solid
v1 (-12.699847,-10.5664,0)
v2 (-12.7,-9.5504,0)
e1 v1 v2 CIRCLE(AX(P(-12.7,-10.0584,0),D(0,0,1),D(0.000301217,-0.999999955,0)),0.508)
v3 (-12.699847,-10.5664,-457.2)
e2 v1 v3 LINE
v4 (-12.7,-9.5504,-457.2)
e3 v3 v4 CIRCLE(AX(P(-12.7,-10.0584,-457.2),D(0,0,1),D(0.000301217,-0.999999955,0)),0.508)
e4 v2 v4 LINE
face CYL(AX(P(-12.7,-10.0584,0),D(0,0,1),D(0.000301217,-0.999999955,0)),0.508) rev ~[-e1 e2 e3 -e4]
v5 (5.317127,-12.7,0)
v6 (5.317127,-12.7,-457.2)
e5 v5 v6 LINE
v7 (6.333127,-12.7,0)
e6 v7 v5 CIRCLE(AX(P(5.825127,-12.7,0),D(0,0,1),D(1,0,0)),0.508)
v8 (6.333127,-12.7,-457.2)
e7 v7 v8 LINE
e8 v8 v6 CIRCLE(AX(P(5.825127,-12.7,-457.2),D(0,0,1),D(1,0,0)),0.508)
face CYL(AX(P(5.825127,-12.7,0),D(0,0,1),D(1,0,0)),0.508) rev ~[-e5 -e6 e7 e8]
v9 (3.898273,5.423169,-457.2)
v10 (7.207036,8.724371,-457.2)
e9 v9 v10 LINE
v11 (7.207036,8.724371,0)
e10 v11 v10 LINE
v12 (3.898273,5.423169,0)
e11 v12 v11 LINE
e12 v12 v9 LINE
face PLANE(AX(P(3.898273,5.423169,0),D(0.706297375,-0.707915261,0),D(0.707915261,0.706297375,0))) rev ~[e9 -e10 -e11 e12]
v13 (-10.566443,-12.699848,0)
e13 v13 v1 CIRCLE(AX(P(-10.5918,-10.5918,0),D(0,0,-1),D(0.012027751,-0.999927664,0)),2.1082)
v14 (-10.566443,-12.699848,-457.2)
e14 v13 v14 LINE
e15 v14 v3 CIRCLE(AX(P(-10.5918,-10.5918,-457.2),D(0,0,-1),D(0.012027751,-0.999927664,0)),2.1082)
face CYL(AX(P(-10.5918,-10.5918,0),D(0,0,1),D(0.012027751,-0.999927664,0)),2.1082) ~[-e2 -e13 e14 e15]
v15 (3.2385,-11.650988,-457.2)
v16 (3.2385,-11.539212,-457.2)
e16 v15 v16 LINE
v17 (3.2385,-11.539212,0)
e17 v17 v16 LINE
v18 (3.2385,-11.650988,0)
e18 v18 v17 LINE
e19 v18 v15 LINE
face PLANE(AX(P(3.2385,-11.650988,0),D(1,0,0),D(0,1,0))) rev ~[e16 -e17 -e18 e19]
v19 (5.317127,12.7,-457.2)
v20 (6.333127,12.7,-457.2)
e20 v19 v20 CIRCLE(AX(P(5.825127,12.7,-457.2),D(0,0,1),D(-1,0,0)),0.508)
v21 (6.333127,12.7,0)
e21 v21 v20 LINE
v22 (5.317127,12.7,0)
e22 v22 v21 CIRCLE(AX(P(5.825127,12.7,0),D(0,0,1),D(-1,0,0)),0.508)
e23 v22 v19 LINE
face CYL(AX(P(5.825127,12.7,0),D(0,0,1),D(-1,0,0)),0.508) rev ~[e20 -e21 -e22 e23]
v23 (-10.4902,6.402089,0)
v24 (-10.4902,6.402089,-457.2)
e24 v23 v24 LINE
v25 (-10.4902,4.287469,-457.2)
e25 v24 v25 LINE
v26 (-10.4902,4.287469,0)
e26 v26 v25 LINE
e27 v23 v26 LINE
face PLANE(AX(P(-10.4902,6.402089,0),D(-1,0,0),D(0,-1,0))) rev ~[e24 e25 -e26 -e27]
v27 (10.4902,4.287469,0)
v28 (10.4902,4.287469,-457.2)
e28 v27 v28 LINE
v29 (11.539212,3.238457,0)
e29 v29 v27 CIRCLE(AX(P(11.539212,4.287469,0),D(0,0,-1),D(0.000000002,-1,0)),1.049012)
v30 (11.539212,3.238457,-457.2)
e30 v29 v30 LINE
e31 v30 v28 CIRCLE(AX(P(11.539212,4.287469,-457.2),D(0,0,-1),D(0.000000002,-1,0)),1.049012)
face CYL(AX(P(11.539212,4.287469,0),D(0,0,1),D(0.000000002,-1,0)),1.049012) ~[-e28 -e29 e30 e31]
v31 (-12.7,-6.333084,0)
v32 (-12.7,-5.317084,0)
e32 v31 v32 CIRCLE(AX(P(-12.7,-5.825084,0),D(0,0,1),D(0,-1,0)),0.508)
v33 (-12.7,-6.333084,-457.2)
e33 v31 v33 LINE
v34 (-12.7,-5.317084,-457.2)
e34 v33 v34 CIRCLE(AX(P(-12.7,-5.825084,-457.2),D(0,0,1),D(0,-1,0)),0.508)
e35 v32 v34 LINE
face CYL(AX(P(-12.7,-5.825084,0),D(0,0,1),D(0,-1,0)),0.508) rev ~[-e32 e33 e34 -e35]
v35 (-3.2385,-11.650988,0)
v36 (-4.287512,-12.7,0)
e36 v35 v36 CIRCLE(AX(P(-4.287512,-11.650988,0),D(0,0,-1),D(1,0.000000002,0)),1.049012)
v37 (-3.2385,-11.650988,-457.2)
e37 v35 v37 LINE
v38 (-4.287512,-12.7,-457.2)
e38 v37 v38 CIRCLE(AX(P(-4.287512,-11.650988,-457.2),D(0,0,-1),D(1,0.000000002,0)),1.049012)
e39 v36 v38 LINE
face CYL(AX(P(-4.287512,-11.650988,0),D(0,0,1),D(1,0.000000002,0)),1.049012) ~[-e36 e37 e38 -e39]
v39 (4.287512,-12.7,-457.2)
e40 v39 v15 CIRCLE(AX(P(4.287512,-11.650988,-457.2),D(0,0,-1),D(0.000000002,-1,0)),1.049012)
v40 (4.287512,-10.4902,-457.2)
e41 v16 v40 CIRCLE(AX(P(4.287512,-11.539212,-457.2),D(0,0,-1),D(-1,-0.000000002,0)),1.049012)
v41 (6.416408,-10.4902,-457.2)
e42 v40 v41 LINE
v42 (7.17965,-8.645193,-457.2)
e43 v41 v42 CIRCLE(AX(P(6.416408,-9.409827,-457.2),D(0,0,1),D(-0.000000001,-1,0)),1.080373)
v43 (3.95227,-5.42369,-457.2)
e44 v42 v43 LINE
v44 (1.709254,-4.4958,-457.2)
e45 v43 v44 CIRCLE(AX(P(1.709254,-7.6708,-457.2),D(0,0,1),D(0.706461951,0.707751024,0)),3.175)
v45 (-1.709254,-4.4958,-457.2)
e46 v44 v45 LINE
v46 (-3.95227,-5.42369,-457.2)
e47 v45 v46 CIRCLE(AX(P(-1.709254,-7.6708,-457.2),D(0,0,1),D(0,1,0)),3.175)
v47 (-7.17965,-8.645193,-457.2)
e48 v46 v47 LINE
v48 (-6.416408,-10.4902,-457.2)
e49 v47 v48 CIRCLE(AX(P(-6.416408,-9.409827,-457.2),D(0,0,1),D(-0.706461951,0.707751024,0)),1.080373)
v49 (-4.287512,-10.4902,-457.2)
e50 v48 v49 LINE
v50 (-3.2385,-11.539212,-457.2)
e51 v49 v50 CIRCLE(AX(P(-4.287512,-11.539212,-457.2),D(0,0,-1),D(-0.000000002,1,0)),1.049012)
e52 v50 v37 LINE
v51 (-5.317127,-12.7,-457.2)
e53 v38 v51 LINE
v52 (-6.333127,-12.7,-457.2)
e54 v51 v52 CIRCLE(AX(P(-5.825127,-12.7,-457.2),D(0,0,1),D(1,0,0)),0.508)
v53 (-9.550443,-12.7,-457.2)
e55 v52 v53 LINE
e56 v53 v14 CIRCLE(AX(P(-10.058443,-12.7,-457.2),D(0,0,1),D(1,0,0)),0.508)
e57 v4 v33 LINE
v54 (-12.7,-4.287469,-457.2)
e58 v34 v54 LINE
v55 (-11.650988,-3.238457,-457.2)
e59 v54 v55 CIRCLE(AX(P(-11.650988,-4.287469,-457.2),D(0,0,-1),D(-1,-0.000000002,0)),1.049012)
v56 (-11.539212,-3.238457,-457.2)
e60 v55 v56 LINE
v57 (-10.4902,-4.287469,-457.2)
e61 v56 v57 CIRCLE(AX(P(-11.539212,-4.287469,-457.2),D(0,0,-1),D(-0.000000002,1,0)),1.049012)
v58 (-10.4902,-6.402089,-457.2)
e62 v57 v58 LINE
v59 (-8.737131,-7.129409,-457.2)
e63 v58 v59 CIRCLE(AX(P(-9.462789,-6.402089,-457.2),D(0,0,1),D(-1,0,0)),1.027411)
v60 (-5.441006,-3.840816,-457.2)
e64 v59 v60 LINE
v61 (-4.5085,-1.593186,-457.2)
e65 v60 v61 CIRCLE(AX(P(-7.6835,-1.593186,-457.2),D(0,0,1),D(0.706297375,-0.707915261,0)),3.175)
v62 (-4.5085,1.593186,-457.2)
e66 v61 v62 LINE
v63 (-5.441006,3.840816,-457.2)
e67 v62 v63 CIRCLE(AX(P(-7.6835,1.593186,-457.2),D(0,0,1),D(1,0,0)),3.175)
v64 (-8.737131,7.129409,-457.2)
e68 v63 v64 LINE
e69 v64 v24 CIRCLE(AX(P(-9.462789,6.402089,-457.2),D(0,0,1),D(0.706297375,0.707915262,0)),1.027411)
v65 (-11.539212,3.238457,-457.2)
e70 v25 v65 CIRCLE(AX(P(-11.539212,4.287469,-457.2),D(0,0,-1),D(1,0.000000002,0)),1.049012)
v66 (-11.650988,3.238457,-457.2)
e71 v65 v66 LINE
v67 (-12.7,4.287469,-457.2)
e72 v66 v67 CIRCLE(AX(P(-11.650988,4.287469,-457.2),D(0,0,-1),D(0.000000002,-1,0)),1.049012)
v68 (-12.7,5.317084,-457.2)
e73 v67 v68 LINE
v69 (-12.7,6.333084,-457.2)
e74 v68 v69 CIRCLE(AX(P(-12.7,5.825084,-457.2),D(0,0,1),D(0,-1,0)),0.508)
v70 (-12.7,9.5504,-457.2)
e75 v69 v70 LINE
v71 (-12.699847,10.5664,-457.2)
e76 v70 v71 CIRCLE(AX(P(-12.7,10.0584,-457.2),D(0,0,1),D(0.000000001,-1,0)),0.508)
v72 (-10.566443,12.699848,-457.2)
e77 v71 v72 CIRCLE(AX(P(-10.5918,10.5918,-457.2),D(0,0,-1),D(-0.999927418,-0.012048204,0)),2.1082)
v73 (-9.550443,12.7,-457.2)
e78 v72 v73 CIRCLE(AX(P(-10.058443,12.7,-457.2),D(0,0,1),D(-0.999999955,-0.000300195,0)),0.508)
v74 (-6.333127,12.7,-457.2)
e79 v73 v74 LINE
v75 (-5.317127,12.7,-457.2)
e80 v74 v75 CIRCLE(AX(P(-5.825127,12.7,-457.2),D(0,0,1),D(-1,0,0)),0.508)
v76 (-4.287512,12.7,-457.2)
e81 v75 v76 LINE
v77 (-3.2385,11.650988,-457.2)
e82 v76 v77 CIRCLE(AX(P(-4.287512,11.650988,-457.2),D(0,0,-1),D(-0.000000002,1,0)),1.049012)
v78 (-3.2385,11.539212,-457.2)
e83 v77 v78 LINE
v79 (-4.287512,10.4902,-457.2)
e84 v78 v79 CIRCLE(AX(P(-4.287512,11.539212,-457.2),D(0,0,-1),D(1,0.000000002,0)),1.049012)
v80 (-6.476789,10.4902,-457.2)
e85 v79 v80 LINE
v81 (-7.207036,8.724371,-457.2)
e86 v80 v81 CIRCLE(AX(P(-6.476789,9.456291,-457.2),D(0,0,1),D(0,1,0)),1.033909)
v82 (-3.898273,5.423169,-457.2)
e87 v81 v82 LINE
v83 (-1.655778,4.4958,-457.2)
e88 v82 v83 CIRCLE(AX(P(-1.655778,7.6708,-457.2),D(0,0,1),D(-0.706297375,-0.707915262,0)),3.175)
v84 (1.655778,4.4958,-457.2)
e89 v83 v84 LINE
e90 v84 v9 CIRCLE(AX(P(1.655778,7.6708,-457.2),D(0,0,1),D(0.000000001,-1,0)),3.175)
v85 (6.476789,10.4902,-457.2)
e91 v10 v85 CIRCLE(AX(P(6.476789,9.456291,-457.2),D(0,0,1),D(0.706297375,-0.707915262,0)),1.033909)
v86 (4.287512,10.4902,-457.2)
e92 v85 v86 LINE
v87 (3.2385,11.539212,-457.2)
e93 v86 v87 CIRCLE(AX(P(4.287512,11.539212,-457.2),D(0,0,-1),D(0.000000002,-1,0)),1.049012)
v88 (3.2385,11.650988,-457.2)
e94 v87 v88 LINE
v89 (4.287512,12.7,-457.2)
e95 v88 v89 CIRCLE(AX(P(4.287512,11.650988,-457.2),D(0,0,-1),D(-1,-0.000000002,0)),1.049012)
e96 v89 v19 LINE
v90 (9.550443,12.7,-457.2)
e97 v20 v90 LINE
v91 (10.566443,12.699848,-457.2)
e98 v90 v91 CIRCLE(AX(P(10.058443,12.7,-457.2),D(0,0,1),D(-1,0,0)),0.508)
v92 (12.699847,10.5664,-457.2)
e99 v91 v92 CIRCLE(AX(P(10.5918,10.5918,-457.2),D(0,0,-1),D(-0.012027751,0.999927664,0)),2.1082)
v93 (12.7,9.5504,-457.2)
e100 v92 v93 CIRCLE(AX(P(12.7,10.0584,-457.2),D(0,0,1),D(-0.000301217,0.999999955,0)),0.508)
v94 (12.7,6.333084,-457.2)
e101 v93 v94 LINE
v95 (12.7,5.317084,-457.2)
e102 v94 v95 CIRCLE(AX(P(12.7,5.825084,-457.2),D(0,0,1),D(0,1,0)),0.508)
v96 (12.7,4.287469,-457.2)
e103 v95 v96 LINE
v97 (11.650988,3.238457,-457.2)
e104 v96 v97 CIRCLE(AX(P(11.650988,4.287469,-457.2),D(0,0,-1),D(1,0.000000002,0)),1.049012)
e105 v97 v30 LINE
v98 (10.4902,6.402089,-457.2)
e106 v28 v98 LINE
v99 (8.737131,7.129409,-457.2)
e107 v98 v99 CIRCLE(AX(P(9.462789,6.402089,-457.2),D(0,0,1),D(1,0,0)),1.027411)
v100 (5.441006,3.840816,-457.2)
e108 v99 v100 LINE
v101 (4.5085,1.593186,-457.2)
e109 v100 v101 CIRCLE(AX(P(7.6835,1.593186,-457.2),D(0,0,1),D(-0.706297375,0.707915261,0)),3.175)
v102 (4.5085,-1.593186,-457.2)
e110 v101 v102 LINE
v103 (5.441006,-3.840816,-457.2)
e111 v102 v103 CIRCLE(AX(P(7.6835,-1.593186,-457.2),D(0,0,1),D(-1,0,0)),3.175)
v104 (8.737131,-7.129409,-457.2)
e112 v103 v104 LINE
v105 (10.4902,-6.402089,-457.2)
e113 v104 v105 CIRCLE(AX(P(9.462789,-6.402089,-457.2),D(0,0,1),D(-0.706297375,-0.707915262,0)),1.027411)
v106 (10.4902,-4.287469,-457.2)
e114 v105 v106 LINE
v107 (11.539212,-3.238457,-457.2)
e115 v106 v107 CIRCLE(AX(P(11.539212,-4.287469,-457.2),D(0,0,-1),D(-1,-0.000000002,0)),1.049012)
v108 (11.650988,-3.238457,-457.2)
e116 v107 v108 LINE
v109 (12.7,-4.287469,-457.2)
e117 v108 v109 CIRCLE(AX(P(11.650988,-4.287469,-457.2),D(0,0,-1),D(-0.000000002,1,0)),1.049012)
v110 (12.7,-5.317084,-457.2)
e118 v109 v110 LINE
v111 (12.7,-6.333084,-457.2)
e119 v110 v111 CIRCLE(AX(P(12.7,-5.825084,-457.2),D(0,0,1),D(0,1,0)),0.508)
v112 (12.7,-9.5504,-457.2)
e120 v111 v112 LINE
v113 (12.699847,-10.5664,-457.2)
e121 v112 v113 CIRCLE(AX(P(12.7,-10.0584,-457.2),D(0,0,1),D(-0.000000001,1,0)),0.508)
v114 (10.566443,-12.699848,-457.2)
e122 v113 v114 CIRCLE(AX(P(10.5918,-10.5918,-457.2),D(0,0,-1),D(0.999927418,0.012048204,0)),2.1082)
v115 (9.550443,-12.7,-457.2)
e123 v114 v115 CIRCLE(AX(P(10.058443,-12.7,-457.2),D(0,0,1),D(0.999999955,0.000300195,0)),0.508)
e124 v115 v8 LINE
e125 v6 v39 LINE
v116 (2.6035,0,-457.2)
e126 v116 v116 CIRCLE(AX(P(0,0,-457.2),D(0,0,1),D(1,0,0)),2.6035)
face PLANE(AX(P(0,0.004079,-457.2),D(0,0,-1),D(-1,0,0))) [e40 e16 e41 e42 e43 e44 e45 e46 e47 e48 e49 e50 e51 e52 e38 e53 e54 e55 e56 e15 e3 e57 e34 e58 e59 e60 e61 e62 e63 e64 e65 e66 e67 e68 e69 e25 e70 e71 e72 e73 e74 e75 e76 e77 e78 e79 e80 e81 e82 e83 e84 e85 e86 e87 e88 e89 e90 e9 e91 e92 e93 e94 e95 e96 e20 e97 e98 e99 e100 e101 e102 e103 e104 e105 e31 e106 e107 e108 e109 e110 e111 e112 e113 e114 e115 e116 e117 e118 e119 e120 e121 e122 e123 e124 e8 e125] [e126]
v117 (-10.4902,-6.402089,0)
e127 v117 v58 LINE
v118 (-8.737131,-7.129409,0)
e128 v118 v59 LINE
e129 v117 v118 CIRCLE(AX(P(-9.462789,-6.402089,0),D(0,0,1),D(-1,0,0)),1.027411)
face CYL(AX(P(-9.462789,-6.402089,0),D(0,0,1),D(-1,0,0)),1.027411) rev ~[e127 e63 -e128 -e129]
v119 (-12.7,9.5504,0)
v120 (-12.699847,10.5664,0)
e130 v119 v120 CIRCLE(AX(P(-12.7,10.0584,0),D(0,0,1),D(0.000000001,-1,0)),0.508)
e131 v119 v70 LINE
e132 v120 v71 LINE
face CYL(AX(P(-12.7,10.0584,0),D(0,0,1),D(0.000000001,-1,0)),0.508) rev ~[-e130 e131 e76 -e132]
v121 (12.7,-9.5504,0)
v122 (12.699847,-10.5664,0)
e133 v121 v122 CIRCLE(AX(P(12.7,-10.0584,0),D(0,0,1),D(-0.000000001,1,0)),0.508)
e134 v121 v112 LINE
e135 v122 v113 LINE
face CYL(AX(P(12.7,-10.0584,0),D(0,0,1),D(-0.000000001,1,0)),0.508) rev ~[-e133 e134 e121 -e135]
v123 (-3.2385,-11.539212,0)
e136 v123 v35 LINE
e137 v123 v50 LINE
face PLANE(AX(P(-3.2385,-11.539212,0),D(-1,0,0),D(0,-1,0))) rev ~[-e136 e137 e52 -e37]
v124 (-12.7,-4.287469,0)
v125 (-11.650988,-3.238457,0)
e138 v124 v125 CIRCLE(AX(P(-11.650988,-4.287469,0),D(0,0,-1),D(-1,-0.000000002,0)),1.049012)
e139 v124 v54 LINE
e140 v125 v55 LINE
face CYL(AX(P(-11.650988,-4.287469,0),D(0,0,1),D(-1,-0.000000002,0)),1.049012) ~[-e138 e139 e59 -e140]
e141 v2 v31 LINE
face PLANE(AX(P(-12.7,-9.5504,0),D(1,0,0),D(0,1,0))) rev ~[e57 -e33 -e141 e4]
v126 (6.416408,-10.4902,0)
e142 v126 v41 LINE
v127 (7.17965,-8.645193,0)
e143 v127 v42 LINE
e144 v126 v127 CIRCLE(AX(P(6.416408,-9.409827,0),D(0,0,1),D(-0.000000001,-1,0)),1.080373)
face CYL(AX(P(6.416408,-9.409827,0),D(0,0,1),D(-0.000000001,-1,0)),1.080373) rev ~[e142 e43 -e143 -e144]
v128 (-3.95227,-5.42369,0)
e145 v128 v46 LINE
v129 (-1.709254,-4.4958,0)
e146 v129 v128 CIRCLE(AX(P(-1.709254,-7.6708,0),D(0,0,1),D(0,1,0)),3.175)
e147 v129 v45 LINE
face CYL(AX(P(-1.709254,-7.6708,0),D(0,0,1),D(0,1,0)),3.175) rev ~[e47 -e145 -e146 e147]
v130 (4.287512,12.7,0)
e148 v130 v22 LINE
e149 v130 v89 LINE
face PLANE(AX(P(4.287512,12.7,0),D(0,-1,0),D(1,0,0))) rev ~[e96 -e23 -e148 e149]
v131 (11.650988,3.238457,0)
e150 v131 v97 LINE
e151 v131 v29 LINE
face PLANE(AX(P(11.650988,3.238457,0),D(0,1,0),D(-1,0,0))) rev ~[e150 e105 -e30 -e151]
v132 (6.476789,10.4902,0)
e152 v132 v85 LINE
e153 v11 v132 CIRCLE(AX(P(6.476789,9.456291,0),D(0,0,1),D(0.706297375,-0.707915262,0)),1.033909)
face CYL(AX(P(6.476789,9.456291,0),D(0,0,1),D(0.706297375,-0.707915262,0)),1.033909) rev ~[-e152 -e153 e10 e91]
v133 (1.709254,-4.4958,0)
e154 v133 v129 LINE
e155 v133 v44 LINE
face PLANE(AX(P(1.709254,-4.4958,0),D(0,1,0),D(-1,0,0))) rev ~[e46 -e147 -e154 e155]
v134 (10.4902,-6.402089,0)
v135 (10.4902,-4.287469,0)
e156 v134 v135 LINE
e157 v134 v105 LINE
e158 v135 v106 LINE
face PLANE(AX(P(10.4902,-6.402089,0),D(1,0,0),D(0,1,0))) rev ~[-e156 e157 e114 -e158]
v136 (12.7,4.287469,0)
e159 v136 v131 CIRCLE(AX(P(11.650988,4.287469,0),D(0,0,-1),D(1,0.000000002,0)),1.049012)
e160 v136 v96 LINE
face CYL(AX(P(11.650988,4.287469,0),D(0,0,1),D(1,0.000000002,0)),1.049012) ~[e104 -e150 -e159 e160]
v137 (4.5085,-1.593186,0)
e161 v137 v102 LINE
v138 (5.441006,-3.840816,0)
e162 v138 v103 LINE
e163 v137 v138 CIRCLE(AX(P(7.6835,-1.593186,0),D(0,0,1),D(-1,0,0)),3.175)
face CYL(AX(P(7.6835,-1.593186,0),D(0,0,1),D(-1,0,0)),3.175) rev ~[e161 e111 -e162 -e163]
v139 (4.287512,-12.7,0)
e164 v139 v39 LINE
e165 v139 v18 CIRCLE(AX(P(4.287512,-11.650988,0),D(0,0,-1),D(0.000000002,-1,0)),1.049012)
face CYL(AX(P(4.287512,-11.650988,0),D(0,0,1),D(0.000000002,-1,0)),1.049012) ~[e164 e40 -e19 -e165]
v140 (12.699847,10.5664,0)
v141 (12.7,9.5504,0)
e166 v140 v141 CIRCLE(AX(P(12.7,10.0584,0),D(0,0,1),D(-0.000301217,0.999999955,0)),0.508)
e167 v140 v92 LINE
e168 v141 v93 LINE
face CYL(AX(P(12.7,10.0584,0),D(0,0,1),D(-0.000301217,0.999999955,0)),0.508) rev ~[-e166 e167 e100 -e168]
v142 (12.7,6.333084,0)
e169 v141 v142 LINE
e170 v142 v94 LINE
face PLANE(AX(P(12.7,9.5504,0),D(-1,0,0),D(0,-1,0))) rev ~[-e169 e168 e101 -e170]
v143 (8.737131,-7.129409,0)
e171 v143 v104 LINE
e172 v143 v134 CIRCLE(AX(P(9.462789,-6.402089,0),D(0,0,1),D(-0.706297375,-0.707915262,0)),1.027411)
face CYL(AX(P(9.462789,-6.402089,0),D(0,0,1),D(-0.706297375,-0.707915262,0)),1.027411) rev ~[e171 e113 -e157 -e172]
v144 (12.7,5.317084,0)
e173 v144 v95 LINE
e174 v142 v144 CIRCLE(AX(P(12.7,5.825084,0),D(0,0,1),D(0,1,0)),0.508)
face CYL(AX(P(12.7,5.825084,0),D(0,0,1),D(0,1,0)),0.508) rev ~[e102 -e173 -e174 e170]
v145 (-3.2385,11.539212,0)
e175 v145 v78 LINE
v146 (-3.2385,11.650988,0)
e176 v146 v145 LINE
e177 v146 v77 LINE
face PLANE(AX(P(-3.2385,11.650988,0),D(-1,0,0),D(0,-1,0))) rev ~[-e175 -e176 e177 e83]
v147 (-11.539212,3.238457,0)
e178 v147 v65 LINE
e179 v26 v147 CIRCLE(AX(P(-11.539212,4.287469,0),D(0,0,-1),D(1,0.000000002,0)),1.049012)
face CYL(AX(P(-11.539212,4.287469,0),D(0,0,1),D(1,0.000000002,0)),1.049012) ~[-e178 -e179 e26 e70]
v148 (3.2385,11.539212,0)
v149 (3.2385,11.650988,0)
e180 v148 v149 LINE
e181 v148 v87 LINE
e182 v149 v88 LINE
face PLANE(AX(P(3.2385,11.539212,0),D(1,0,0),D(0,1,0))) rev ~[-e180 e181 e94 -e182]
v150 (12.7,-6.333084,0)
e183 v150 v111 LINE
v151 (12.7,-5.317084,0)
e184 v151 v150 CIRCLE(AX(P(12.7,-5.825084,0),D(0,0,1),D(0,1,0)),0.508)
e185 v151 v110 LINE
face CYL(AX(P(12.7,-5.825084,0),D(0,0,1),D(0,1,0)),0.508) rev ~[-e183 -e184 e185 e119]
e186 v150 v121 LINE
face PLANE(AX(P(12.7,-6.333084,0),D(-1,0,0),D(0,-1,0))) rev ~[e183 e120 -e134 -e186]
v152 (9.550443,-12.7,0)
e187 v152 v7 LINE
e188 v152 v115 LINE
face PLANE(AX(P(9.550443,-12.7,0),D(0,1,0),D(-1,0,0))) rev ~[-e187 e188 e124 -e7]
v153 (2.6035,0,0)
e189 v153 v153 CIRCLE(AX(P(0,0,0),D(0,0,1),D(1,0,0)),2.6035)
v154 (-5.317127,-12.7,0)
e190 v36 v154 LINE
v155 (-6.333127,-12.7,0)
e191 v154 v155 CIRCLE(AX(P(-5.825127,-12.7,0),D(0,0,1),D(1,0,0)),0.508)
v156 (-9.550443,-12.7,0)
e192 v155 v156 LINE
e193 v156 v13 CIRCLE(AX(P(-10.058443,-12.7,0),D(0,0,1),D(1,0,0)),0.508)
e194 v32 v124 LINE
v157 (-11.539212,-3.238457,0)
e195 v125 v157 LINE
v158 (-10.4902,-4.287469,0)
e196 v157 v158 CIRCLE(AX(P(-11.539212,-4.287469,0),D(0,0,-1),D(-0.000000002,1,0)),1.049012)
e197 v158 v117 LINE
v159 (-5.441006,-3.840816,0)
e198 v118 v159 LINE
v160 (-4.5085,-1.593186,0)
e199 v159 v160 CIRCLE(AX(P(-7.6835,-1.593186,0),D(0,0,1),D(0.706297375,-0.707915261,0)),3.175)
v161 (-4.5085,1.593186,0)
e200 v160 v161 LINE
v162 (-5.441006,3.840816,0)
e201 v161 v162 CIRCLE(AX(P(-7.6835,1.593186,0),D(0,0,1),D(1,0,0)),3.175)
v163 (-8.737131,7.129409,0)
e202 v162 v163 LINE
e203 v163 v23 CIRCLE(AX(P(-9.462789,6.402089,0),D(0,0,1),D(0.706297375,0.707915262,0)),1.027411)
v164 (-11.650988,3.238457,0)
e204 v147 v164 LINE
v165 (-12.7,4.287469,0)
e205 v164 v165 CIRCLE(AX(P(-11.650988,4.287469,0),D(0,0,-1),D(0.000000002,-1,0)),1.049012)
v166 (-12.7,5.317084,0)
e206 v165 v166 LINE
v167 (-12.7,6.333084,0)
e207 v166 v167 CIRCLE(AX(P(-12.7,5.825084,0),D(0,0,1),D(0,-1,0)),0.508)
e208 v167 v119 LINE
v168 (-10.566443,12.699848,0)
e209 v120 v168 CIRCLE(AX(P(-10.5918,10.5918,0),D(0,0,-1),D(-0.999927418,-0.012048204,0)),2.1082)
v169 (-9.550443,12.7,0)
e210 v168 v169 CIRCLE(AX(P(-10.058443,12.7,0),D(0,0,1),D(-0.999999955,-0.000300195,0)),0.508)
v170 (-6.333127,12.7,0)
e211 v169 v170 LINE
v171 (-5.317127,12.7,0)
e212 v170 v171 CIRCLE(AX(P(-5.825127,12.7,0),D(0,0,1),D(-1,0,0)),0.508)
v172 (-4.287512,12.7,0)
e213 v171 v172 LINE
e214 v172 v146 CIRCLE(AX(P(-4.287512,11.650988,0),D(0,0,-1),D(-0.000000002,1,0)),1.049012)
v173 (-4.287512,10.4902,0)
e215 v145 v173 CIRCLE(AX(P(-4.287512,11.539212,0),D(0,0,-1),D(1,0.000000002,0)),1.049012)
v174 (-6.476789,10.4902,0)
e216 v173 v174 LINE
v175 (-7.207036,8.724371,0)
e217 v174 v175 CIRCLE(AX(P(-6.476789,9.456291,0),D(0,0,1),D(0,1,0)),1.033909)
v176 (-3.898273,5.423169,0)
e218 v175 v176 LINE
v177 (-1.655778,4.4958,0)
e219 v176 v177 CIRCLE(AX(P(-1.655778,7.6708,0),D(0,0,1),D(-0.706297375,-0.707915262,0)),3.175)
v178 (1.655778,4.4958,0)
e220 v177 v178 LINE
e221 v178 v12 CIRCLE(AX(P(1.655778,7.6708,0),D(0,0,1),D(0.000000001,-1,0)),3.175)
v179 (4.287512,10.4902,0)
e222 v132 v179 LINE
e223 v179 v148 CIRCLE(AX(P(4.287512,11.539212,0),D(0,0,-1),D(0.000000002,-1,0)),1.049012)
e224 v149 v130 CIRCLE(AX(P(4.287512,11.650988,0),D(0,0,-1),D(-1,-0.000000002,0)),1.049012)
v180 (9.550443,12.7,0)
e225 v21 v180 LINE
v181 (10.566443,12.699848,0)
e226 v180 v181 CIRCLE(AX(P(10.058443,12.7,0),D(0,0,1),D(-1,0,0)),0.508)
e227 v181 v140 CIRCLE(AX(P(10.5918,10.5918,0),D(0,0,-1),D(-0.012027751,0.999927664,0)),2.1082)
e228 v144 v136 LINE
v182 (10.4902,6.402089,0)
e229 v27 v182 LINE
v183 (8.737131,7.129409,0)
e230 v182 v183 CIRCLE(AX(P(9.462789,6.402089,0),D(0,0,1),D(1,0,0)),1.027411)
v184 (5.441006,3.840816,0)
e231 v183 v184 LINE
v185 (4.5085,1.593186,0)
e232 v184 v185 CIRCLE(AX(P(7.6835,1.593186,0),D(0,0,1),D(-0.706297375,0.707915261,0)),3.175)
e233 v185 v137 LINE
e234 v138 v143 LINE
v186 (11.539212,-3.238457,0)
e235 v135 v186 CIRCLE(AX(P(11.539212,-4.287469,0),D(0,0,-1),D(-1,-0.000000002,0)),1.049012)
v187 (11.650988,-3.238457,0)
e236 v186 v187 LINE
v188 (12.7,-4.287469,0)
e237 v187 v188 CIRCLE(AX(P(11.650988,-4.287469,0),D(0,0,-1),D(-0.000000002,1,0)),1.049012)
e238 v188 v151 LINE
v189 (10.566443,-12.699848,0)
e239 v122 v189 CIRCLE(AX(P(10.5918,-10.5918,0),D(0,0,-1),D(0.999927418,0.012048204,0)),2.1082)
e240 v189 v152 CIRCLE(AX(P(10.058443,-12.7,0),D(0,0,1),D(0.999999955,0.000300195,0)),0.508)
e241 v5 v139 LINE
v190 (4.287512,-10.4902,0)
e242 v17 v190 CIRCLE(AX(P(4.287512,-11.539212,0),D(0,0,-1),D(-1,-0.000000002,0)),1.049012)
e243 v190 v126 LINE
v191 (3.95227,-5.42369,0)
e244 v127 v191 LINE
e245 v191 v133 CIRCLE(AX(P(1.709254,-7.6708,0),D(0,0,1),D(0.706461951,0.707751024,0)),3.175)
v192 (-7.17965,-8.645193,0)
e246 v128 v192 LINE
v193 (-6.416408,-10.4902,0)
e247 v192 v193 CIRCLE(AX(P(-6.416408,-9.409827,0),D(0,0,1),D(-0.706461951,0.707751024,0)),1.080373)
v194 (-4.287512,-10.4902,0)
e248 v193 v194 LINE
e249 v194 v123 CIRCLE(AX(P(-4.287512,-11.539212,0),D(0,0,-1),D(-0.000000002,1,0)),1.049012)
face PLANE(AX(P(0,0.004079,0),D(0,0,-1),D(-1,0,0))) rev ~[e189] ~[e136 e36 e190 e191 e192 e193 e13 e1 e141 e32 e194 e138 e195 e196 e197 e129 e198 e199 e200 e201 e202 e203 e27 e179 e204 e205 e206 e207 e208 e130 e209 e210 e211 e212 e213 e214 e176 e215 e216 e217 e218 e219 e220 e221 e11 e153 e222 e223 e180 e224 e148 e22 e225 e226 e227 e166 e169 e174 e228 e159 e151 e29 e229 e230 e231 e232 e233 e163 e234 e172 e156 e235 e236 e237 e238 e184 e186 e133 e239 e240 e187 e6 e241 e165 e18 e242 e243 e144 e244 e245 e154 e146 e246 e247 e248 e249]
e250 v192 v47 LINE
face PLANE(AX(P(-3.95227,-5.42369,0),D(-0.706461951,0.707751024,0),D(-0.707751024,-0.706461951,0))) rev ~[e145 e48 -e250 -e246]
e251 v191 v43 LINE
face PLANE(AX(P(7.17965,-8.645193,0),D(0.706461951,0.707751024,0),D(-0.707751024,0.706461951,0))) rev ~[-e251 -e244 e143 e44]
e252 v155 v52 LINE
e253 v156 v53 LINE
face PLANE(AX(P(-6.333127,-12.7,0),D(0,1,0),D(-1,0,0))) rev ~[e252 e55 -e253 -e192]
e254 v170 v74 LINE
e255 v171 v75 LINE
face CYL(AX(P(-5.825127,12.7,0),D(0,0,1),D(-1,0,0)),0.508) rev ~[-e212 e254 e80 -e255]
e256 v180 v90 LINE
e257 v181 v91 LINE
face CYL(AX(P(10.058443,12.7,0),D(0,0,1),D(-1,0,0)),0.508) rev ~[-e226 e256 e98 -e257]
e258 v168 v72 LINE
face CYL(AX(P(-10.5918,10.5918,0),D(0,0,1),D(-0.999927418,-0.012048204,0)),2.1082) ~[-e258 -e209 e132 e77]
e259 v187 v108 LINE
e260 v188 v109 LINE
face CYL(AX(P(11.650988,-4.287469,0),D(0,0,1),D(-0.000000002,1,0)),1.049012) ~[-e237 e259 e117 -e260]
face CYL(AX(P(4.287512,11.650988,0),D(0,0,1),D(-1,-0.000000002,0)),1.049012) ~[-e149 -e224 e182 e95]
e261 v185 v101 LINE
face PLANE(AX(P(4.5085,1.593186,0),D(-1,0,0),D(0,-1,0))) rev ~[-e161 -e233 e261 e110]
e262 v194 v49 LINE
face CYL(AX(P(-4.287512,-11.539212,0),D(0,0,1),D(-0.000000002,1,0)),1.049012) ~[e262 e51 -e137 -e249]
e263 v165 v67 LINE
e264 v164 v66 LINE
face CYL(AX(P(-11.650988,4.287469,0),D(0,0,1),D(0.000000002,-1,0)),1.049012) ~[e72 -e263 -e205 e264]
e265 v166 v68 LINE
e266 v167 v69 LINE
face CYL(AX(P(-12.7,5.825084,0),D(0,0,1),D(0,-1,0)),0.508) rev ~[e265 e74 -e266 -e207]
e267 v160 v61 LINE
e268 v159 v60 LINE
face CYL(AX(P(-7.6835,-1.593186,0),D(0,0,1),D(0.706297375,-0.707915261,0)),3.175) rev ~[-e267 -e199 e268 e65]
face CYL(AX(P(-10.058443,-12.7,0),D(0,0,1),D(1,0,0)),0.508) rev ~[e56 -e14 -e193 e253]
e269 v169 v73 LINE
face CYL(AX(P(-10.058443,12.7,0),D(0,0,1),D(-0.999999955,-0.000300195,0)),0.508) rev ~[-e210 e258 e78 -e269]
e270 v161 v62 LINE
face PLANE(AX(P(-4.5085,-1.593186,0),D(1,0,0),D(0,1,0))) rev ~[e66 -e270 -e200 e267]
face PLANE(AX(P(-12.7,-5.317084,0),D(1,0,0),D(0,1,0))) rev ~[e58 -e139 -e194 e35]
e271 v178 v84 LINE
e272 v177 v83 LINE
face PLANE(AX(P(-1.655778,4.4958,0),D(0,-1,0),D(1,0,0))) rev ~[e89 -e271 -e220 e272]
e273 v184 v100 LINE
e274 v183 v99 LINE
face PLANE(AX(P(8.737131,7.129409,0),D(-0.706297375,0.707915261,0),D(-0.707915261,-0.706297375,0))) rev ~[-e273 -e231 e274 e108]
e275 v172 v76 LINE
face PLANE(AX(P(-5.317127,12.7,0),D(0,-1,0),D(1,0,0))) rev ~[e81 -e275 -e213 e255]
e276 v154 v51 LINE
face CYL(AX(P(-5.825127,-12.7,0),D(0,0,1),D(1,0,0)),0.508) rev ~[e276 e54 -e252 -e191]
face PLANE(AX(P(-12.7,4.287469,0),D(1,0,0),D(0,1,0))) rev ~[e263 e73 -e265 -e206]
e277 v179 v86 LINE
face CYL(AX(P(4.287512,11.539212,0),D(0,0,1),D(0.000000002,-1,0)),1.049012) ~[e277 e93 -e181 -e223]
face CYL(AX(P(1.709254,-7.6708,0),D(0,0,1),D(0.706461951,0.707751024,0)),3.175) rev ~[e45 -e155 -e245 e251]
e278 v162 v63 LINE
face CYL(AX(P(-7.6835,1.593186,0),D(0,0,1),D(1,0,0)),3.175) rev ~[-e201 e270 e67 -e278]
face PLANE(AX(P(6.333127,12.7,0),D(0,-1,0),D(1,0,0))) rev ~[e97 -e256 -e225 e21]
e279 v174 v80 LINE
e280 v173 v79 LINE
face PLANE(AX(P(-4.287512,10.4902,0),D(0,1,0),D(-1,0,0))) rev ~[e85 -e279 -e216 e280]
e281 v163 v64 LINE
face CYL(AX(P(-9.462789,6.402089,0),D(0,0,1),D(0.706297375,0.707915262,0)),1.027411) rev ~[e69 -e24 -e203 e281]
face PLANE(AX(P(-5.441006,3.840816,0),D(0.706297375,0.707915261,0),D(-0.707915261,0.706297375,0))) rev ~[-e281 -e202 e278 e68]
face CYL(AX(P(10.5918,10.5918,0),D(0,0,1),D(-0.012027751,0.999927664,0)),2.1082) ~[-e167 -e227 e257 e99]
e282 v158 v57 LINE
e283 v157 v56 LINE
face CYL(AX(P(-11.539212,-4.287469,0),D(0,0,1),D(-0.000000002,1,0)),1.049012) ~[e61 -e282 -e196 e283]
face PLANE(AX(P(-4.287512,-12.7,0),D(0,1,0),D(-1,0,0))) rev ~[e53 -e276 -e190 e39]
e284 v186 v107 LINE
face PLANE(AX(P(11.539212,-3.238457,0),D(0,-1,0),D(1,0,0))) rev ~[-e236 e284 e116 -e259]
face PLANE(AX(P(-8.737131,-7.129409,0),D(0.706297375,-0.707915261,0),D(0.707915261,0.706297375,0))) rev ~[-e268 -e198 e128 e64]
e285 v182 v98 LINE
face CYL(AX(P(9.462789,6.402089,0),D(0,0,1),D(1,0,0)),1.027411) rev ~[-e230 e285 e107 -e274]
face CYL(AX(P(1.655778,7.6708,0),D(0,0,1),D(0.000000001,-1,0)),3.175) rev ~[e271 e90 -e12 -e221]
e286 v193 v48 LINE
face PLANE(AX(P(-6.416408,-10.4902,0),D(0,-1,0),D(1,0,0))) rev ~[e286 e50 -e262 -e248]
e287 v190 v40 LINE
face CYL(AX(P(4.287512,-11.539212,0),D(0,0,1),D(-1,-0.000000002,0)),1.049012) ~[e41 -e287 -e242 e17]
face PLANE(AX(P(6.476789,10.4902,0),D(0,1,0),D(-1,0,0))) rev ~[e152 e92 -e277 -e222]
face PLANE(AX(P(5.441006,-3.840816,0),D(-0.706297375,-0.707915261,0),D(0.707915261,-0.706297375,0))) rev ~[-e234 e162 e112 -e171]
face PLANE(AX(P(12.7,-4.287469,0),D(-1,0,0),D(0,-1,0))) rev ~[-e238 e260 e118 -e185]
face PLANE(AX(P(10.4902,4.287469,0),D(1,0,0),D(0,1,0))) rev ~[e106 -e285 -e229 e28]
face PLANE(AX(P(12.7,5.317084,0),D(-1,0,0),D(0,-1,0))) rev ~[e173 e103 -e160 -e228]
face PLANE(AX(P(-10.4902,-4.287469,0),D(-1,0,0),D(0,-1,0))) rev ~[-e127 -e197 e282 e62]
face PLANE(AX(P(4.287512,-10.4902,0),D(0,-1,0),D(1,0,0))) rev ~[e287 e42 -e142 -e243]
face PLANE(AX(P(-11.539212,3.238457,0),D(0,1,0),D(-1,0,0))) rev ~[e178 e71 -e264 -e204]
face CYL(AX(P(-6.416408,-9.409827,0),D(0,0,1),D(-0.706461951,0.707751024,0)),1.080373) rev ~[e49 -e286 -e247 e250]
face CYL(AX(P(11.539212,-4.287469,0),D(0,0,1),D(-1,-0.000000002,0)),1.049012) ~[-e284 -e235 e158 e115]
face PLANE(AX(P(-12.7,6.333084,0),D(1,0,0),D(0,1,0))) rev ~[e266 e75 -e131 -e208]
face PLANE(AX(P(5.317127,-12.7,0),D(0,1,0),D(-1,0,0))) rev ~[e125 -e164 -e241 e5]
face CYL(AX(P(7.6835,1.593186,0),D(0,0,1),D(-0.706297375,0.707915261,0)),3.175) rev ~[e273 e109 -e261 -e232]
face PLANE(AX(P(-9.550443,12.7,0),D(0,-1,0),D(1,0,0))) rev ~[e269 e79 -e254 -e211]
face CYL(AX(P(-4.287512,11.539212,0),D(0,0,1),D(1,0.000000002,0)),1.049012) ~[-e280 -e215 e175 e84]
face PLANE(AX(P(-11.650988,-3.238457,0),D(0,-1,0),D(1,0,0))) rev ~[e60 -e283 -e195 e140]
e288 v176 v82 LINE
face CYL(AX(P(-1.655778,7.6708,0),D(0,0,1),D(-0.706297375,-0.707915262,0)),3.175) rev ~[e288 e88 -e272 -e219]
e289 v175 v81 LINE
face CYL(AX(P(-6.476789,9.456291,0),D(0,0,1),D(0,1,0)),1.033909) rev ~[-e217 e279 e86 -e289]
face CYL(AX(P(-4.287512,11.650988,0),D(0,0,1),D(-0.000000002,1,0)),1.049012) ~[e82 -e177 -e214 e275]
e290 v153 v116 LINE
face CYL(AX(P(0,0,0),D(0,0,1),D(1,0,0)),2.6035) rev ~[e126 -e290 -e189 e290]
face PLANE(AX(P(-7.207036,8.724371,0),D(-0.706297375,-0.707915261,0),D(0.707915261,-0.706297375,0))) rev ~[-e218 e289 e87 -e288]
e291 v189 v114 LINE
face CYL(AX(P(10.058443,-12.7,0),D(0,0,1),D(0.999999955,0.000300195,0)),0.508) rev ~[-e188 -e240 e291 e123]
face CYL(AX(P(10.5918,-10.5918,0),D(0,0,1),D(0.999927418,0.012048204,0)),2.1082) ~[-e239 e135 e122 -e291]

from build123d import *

# Parameters (mm, degrees)
SKETCH1_R      = 2.6035
EXTRUDE1_DEPTH = 457.2


with BuildPart() as part:
    # Sketch1 → Extrude1 (new body)
    with BuildSketch(Plane.XY):
        with BuildLine():
            Line((-7.207036008, 8.724370562), (-3.898272566, 5.423169045))
            ThreePointArc((-3.898272566, 5.423169045), (-2.869120213, 4.736787962), (-1.655778399, 4.4958))
            Line((-1.655778399, 4.4958), (1.655778399, 4.4958))
            ThreePointArc((1.655778399, 4.4958), (2.869120213, 4.736787962), (3.898272566, 5.423169045))
            Line((3.898272566, 5.423169045), (7.207036008, 8.724370562))
            ThreePointArc((7.207036008, 8.724370562), (7.432222385, 9.85140422), (6.476788598, 10.4902))
            Line((6.476788598, 10.4902), (4.287512407, 10.4902))
            ThreePointArc((4.287512407, 10.4902), (3.54574862, 10.79744862), (3.2385, 11.539212407))
            Line((3.2385, 11.539212407), (3.2385, 11.650987593))
            ThreePointArc((3.2385, 11.650987593), (3.54574862, 12.39275138), (4.287512407, 12.7))
            Line((4.287512407, 12.7), (5.317126718, 12.7))
            ThreePointArc((5.317126718, 12.7), (5.825126718, 12.192), (6.333126718, 12.7))
            Line((6.333126718, 12.7), (9.550443118, 12.7))
            ThreePointArc((9.550443118, 12.7), (10.058366869, 12.192000006), (10.566443095, 12.699847501))
            ThreePointArc((10.566443095, 12.699847501), (12.082537762, 12.08250727), (12.699846982, 10.566399977))
            ThreePointArc((12.699846982, 10.566399977), (12.192000006, 10.058323491), (12.7, 9.5504))
            Line((12.7, 9.5504), (12.7, 6.3330836))
            ThreePointArc((12.7, 6.3330836), (12.192, 5.8250836), (12.7, 5.3170836))
            Line((12.7, 5.3170836), (12.7, 4.287469289))
            ThreePointArc((12.7, 4.287469289), (12.39275138, 3.545705502), (11.650987593, 3.238456882))
            Line((11.650987593, 3.238456882), (11.539212407, 3.238456882))
            ThreePointArc((11.539212407, 3.238456882), (10.79744862, 3.545705502), (10.4902, 4.287469289))
            Line((10.4902, 4.287469289), (10.4902, 6.402089023))
            ThreePointArc((10.4902, 6.402089023), (9.856505071, 7.351067942), (8.737131347, 7.129408934))
            Line((8.737131347, 7.129408934), (5.441005833, 3.840816462))
            ThreePointArc((5.441005833, 3.840816462), (4.750877967, 2.809883091), (4.5085, 1.593185507))
            Line((4.5085, 1.593185507), (4.5085, -1.593185507))
            ThreePointArc((4.5085, -1.593185507), (4.750877967, -2.809883091), (5.441005833, -3.840816462))
            Line((5.441005833, -3.840816462), (8.737131347, -7.129408934))
            ThreePointArc((8.737131347, -7.129408934), (9.856505071, -7.351067942), (10.4902, -6.402089023))
            Line((10.4902, -6.402089023), (10.4902, -4.287469289))
            ThreePointArc((10.4902, -4.287469289), (10.79744862, -3.545705502), (11.539212407, -3.238456882))
            Line((11.539212407, -3.238456882), (11.650987593, -3.238456882))
            ThreePointArc((11.650987593, -3.238456882), (12.39275138, -3.545705502), (12.7, -4.287469289))
            Line((12.7, -4.287469289), (12.7, -5.3170836))
            ThreePointArc((12.7, -5.3170836), (12.192, -5.8250836), (12.7, -6.3330836))
            Line((12.7, -6.3330836), (12.7, -9.5504))
            ThreePointArc((12.7, -9.5504), (12.192000006, -10.058323491), (12.699846982, -10.566399977))
            ThreePointArc((12.699846982, -10.566399977), (12.082537762, -12.08250727), (10.566443095, -12.699847501))
            ThreePointArc((10.566443095, -12.699847501), (10.058366869, -12.192000006), (9.550443118, -12.7))
            Line((9.550443118, -12.7), (6.333126718, -12.7))
            ThreePointArc((6.333126718, -12.7), (5.825126718, -12.192), (5.317126718, -12.7))
            Line((5.317126718, -12.7), (4.287512407, -12.7))
            ThreePointArc((4.287512407, -12.7), (3.54574862, -12.39275138), (3.2385, -11.650987593))
            Line((3.2385, -11.650987593), (3.2385, -11.539212407))
            ThreePointArc((3.2385, -11.539212407), (3.54574862, -10.79744862), (4.287512407, -10.4902))
            Line((4.287512407, -10.4902), (6.416408329, -10.4902))
            ThreePointArc((6.416408329, -10.4902), (7.41473083, -9.822813117), (7.179650497, -8.645192506))
            Line((7.179650497, -8.645192506), (3.952270251, -5.423690499))
            ThreePointArc((3.952270251, -5.423690499), (2.922936451, -4.736929036), (1.709253557, -4.4958))
            Line((1.709253557, -4.4958), (-1.709253557, -4.4958))
            ThreePointArc((-1.709253557, -4.4958), (-2.922936451, -4.736929036), (-3.952270251, -5.423690499))
            Line((-3.952270251, -5.423690499), (-7.179650497, -8.645192506))
            ThreePointArc((-7.179650497, -8.645192506), (-7.41473083, -9.822813117), (-6.416408329, -10.4902))
            Line((-6.416408329, -10.4902), (-4.287512407, -10.4902))
            ThreePointArc((-4.287512407, -10.4902), (-3.54574862, -10.79744862), (-3.2385, -11.539212407))
            Line((-3.2385, -11.539212407), (-3.2385, -11.650987593))
            ThreePointArc((-3.2385, -11.650987593), (-3.54574862, -12.39275138), (-4.287512407, -12.7))
            Line((-4.287512407, -12.7), (-5.317126718, -12.7))
            ThreePointArc((-5.317126718, -12.7), (-5.825126718, -12.192), (-6.333126718, -12.7))
            Line((-6.333126718, -12.7), (-9.550443118, -12.7))
            ThreePointArc((-9.550443118, -12.7), (-10.058366869, -12.192000006), (-10.566443095, -12.699847501))
            ThreePointArc((-10.566443095, -12.699847501), (-12.082537762, -12.08250727), (-12.699846982, -10.566399977))
            ThreePointArc((-12.699846982, -10.566399977), (-12.192000006, -10.058323491), (-12.7, -9.5504))
            Line((-12.7, -9.5504), (-12.7, -6.3330836))
            ThreePointArc((-12.7, -6.3330836), (-12.192, -5.8250836), (-12.7, -5.3170836))
            Line((-12.7, -5.3170836), (-12.7, -4.287469289))
            ThreePointArc((-12.7, -4.287469289), (-12.39275138, -3.545705502), (-11.650987593, -3.238456882))
            Line((-11.650987593, -3.238456882), (-11.539212407, -3.238456882))
            ThreePointArc((-11.539212407, -3.238456882), (-10.79744862, -3.545705502), (-10.4902, -4.287469289))
            Line((-10.4902, -4.287469289), (-10.4902, -6.402089023))
            ThreePointArc((-10.4902, -6.402089023), (-9.856505071, -7.351067942), (-8.737131347, -7.129408934))
            Line((-8.737131347, -7.129408934), (-5.441005833, -3.840816462))
            ThreePointArc((-5.441005833, -3.840816462), (-4.750877967, -2.809883091), (-4.5085, -1.593185507))
            Line((-4.5085, -1.593185507), (-4.5085, 1.593185507))
            ThreePointArc((-4.5085, 1.593185507), (-4.750877967, 2.809883091), (-5.441005833, 3.840816462))
            Line((-5.441005833, 3.840816462), (-8.737131347, 7.129408934))
            ThreePointArc((-8.737131347, 7.129408934), (-9.856505071, 7.351067942), (-10.4902, 6.402089023))
            Line((-10.4902, 6.402089023), (-10.4902, 4.287469289))
            ThreePointArc((-10.4902, 4.287469289), (-10.79744862, 3.545705502), (-11.539212407, 3.238456882))
            Line((-11.539212407, 3.238456882), (-11.650987593, 3.238456882))
            ThreePointArc((-11.650987593, 3.238456882), (-12.39275138, 3.545705502), (-12.7, 4.287469289))
            Line((-12.7, 4.287469289), (-12.7, 5.3170836))
            ThreePointArc((-12.7, 5.3170836), (-12.192, 5.8250836), (-12.7, 6.3330836))
            Line((-12.7, 6.3330836), (-12.7, 9.5504))
            ThreePointArc((-12.7, 9.5504), (-12.192000006, 10.058323491), (-12.699846982, 10.566399977))
            ThreePointArc((-12.699846982, 10.566399977), (-12.082537762, 12.08250727), (-10.566443095, 12.699847501))
            ThreePointArc((-10.566443095, 12.699847501), (-10.058366869, 12.192000006), (-9.550443118, 12.7))
            Line((-9.550443118, 12.7), (-6.333126718, 12.7))
            ThreePointArc((-6.333126718, 12.7), (-5.825126718, 12.192), (-5.317126718, 12.7))
            Line((-5.317126718, 12.7), (-4.287512407, 12.7))
            ThreePointArc((-4.287512407, 12.7), (-3.54574862, 12.39275138), (-3.2385, 11.650987593))
            Line((-3.2385, 11.650987593), (-3.2385, 11.539212407))
            ThreePointArc((-3.2385, 11.539212407), (-3.54574862, 10.79744862), (-4.287512407, 10.4902))
            Line((-4.287512407, 10.4902), (-6.476788598, 10.4902))
            ThreePointArc((-6.476788598, 10.4902), (-7.432222385, 9.85140422), (-7.207036008, 8.724370562))
        make_face()
        Circle(SKETCH1_R, mode=Mode.SUBTRACT)
    extrude(amount=-EXTRUDE1_DEPTH)


solid = part.part
